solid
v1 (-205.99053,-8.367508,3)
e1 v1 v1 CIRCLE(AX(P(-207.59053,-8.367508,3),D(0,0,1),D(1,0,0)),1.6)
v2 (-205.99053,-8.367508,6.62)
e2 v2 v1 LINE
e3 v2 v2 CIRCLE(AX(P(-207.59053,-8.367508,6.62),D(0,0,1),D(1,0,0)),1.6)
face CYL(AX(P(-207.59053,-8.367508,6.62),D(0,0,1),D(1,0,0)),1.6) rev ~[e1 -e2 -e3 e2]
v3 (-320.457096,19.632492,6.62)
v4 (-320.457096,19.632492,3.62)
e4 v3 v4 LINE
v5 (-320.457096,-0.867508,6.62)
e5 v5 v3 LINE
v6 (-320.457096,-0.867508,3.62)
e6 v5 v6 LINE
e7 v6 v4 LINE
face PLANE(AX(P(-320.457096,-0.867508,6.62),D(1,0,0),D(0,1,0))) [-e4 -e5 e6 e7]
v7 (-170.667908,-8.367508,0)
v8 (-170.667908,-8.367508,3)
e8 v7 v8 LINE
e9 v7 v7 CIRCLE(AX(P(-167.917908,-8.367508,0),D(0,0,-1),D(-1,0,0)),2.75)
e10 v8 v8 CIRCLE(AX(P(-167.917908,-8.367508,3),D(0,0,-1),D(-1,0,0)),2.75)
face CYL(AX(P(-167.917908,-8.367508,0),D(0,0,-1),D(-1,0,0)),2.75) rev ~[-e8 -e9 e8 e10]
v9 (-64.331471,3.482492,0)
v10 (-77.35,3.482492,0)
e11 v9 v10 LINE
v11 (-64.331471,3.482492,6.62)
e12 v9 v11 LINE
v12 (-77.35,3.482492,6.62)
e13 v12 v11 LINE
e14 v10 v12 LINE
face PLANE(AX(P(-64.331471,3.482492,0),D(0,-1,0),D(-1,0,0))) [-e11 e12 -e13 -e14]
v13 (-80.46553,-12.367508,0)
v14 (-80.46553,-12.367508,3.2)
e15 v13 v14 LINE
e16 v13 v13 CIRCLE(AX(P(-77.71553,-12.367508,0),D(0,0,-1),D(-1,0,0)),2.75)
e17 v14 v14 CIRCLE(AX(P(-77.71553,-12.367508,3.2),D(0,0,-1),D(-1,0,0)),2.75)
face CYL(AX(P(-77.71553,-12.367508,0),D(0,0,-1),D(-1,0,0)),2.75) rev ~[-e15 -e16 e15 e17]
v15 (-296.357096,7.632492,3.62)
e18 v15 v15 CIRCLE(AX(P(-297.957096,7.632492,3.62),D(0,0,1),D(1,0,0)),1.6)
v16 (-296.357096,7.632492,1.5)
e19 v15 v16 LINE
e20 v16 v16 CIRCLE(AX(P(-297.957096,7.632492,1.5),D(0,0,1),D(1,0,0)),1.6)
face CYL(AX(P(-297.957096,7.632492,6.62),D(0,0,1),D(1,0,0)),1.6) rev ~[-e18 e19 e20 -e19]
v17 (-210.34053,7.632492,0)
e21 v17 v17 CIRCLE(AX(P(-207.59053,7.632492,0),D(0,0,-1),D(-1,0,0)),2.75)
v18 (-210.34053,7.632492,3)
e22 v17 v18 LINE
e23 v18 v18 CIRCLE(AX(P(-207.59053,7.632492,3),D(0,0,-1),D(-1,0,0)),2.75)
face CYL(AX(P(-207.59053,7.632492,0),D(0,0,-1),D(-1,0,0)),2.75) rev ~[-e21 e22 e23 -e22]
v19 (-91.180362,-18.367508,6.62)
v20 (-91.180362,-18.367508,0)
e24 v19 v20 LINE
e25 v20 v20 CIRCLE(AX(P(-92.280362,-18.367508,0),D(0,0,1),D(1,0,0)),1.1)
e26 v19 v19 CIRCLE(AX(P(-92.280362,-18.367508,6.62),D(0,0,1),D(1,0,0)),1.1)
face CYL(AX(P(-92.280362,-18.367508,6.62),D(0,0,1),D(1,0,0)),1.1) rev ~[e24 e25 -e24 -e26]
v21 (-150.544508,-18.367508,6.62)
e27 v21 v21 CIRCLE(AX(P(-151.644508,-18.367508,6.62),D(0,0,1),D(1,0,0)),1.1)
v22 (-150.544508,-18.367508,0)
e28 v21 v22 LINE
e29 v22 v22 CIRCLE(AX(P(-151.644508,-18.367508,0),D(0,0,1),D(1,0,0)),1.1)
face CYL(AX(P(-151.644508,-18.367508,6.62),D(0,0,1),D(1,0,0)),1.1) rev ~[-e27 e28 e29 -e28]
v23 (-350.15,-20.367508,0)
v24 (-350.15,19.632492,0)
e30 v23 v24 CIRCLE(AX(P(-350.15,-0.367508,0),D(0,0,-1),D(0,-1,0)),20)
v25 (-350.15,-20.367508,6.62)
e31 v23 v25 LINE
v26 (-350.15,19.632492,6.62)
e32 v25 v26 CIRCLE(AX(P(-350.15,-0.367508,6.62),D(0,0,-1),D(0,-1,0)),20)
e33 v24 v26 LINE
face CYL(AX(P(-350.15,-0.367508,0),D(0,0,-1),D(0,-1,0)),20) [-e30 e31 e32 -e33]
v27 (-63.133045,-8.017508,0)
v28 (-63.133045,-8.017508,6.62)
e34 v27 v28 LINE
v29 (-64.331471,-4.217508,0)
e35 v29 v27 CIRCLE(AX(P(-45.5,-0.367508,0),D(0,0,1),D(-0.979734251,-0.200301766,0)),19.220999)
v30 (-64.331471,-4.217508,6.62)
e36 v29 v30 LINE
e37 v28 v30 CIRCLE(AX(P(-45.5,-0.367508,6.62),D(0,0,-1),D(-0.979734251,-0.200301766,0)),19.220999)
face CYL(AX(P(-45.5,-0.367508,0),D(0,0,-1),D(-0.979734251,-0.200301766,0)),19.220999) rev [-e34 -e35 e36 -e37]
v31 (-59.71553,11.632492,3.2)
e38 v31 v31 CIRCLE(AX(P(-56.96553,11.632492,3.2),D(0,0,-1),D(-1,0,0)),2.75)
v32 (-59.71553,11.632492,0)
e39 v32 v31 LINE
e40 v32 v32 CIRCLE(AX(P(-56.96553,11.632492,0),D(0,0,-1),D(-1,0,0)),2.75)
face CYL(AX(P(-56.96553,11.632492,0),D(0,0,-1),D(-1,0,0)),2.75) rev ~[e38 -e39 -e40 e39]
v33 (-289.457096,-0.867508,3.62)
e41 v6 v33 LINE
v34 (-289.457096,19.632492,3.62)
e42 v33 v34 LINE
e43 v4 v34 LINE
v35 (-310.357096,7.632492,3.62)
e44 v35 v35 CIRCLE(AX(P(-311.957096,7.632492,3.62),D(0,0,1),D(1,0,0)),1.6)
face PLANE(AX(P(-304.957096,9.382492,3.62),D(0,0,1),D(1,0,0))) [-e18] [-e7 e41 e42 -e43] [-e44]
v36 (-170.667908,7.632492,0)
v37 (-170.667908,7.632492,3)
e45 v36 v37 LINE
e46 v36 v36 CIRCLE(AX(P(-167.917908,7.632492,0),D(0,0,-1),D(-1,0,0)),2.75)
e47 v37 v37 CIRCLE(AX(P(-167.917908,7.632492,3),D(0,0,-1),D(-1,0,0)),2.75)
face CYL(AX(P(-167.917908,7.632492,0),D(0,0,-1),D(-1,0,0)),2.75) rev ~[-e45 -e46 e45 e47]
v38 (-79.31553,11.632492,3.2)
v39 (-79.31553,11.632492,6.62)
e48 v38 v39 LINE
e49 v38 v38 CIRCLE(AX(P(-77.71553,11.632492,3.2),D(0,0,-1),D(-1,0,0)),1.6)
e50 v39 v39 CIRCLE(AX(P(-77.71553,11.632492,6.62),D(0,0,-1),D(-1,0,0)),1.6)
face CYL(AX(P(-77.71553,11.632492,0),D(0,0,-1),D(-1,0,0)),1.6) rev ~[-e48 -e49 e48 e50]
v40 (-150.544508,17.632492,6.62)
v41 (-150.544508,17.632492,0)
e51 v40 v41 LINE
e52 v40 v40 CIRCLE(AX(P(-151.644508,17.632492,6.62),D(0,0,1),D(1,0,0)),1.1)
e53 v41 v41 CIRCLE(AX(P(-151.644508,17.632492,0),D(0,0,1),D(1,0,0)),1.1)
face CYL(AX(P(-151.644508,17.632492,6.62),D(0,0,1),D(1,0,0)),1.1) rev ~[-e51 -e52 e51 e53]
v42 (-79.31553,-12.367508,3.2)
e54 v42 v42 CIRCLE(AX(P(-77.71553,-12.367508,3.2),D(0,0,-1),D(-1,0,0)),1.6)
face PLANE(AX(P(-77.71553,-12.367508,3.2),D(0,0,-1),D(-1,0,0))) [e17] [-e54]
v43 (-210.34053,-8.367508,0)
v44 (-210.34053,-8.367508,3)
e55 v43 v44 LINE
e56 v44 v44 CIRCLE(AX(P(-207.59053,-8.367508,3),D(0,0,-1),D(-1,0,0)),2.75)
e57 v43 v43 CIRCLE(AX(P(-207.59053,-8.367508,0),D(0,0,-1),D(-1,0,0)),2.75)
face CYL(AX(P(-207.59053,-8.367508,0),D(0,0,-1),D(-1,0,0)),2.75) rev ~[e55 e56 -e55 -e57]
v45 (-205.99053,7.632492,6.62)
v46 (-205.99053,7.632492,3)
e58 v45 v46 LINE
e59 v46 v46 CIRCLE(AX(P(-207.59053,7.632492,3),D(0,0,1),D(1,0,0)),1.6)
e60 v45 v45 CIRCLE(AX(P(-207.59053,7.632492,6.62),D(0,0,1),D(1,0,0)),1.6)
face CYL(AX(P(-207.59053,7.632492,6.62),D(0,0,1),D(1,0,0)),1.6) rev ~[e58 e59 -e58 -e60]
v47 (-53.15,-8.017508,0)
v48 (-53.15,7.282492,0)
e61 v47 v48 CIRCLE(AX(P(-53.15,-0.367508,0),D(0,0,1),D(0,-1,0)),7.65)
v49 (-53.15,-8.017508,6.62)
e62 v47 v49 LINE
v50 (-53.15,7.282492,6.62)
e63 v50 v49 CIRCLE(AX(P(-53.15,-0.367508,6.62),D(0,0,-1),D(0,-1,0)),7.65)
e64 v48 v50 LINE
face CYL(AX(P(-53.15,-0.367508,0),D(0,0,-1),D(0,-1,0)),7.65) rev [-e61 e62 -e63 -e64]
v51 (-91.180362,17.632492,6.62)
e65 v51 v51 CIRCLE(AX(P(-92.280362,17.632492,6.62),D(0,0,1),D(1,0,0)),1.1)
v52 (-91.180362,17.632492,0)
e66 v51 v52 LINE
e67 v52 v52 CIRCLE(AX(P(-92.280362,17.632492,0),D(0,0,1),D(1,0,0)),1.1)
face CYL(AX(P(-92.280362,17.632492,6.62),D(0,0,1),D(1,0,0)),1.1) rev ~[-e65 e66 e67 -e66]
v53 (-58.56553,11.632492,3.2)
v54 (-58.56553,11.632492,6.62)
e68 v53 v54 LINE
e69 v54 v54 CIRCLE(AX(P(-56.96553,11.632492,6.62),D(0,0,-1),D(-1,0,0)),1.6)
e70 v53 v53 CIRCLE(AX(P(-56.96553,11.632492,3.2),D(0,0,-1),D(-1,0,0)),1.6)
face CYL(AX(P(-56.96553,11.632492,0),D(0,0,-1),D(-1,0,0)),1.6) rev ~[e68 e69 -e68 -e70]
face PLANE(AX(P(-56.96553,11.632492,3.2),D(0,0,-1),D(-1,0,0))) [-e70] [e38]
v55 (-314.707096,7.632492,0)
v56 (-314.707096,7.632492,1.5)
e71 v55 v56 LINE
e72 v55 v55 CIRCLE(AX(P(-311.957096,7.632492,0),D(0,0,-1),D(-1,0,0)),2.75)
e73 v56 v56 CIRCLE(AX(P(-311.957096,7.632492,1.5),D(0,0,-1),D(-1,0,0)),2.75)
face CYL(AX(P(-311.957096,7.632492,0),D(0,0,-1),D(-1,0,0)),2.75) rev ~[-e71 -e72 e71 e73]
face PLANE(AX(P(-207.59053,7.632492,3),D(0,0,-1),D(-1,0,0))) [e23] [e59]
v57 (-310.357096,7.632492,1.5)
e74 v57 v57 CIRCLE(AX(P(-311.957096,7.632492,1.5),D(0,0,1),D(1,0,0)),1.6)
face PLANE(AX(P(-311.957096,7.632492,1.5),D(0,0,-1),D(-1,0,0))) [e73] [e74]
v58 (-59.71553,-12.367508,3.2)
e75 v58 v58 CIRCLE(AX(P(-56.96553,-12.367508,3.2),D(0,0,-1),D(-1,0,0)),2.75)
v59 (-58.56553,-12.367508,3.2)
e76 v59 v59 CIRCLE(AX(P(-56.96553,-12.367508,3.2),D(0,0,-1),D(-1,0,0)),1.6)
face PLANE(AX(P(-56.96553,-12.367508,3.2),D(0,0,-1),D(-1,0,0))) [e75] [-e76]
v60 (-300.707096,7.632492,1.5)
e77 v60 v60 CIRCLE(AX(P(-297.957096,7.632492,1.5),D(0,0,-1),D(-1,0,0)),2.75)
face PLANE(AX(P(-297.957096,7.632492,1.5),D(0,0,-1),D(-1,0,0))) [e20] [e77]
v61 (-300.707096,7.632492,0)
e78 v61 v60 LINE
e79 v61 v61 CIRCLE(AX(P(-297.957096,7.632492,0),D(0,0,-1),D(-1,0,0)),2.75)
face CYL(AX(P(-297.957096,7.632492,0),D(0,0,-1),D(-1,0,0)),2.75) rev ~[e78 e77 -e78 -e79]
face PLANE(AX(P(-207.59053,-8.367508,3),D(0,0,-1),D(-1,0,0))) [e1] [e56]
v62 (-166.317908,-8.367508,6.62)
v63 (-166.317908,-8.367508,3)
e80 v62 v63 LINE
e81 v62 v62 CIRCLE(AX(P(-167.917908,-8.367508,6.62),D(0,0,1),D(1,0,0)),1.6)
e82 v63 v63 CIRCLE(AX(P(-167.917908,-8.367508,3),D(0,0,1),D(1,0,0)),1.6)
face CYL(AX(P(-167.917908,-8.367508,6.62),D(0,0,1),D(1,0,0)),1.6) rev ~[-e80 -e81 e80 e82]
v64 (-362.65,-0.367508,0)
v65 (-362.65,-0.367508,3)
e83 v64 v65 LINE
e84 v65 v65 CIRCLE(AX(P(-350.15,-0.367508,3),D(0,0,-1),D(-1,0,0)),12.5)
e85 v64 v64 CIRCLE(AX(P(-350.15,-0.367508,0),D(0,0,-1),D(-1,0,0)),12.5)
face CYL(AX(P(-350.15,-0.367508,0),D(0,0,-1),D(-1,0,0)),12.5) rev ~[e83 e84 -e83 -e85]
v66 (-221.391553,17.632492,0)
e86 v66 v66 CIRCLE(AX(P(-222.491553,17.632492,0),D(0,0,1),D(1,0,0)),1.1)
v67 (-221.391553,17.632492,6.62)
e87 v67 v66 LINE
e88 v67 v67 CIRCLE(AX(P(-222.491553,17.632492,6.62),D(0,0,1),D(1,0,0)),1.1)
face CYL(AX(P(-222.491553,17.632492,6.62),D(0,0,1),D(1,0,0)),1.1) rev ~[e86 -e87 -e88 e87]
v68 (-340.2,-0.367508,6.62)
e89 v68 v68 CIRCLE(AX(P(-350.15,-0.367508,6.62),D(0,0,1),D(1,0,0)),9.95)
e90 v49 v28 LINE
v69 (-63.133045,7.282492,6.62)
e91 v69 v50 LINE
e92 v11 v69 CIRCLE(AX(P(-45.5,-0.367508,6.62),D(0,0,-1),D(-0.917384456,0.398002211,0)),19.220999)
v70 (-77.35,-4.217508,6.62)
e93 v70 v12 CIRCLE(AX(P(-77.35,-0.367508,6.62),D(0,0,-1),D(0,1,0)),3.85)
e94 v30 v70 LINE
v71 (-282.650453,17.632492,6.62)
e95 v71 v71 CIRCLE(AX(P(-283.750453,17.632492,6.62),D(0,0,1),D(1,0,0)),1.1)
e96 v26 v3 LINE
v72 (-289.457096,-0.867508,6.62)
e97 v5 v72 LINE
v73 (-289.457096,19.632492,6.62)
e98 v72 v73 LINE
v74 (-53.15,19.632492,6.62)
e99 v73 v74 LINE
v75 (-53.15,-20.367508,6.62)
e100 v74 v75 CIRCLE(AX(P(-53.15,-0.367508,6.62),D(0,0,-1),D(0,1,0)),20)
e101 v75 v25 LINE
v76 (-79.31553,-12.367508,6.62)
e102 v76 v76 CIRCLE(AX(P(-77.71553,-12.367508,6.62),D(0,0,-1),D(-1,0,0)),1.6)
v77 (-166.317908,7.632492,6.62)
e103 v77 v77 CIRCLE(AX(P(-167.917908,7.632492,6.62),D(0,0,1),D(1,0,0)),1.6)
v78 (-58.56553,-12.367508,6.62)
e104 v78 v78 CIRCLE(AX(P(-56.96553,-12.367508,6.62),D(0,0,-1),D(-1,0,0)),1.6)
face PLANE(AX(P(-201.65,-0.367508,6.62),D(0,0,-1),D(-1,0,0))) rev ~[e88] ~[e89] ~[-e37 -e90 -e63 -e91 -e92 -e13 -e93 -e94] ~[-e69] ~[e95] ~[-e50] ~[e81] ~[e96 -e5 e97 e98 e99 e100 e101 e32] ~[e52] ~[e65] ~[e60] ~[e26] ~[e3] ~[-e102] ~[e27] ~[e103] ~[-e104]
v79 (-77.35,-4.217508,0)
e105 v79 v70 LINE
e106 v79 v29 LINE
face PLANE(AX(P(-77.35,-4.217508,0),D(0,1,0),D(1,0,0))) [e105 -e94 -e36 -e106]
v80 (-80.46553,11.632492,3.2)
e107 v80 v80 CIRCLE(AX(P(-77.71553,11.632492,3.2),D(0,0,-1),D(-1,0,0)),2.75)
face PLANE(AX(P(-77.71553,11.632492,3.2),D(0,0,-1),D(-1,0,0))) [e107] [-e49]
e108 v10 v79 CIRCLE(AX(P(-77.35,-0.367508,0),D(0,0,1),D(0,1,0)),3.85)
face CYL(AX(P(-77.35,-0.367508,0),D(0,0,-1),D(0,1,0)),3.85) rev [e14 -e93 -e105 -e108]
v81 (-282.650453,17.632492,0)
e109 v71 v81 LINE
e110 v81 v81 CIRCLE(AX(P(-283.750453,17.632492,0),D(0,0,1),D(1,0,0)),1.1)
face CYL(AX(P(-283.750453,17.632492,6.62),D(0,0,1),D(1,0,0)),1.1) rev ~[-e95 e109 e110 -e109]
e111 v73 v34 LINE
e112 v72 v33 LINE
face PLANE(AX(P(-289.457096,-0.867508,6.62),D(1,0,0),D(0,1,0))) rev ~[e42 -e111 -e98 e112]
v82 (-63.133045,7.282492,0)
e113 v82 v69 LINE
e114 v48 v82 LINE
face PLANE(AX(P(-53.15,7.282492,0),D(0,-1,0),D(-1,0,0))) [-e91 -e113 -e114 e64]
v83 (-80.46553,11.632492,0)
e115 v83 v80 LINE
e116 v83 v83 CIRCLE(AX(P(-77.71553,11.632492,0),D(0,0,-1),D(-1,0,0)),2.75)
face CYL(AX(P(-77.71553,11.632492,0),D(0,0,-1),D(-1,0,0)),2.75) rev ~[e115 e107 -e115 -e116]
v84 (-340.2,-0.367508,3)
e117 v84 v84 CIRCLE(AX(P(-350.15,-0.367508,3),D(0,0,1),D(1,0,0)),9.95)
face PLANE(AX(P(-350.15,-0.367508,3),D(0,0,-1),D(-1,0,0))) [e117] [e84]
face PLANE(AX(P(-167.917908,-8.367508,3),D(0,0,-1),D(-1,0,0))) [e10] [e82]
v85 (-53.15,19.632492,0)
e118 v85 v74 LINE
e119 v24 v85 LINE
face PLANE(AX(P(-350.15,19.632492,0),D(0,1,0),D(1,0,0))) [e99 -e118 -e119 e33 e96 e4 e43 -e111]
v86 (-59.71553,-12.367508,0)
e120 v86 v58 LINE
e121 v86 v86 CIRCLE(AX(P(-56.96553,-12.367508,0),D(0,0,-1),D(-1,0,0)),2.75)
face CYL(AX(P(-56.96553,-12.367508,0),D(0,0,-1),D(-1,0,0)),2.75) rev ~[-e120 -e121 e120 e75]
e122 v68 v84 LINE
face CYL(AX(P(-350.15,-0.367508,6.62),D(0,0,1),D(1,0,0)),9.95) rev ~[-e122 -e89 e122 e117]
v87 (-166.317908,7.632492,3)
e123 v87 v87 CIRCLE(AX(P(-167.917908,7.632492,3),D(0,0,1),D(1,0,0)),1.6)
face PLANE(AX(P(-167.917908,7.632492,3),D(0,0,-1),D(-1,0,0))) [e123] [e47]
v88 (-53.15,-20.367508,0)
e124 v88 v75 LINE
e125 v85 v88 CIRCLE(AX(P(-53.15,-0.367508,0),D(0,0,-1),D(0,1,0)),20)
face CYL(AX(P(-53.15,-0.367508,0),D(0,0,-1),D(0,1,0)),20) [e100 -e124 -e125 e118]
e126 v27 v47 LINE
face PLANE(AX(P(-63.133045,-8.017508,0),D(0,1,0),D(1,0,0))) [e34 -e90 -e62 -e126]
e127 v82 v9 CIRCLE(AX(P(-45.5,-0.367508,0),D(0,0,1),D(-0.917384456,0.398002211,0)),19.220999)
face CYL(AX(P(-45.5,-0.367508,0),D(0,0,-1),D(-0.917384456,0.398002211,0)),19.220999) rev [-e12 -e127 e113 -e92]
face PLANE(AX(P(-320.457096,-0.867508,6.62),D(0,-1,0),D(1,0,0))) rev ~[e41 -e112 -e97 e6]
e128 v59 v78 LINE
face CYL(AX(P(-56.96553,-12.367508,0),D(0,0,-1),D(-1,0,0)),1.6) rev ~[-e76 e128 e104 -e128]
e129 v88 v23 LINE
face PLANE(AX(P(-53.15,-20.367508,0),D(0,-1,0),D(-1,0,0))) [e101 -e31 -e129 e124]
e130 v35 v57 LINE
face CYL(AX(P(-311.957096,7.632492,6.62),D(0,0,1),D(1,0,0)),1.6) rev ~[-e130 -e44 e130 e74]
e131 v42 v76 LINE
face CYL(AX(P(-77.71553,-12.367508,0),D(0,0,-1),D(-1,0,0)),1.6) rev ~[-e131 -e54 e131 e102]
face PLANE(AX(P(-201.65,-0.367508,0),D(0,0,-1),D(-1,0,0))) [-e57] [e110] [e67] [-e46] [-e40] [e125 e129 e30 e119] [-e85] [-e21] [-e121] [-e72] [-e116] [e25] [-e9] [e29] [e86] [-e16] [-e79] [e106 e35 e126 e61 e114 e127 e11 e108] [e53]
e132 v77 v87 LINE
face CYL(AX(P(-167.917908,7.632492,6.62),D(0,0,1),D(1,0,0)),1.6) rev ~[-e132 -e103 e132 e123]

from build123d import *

# Parameters (mm, degrees)
BOSS_EXTRUDE1_DEPTH = 6.62
CUT_EXTRUDE1_REACH  = 8.62
CUT_EXTRUDE2_REACH  = 8.62
SKETCH3_R           = 1.6
SKETCH4_R           = 2.75
CUT_EXTRUDE3_DEPTH  = 3.2
SKETCH6_R           = 9.95
CUT_EXTRUDE4_DEPTH  = 10
SKETCH7_R           = 12.5
CUT_EXTRUDE5_DEPTH  = 3
CUT_EXTRUDE9_REACH  = 8.62
SKETCH10_R          = 1.600000003
SKETCH11_R          = 2.750000001
CUT_EXTRUDE10_DEPTH = 3
SKETCH12_W          = 31
SKETCH12_H          = 20.5
CUT_EXTRUDE11_DEPTH = 3
CUT_EXTRUDE12_REACH = 8.62
SKETCH13_R          = 1.6
SKETCH14_R          = 2.75
CUT_EXTRUDE13_DEPTH = 1.5
CUT_EXTRUDE14_REACH = 8.62
SKETCH15_R          = 1.1


with BuildPart() as part:
    # Sketch1 → Boss-Extrude1 (new body)
    with BuildSketch(Plane.XY):
        with BuildLine():
            Line((-53.15, -20.367507575), (-350.15, -20.367507575))
            ThreePointArc((-350.15, -20.367507575), (-370.15, -0.367507575), (-350.15, 19.632492425))
            Line((-350.15, 19.632492425), (-53.15, 19.632492425))
            ThreePointArc((-53.15, 19.632492425), (-33.15, -0.367507575), (-53.15, -20.367507575))
        make_face()
    extrude(amount=BOSS_EXTRUDE1_DEPTH)

    # Sketch2 → Cut-Extrude1 (cut, up to next)
    with BuildSketch(Plane(origin=(0, 0, 0), x_dir=(-1, 0, 0), z_dir=(0, 0, -1)), mode=Mode.PRIVATE) as cut_extrude1_sk1:
        with BuildLine():
            Line((53.15, 7.282492425), (63.133045479, 7.282492425))
            ThreePointArc((63.133045479, 7.282492425), (63.830991164, 5.41363036), (64.33147081, 3.482492425))
            Line((64.33147081, 3.482492425), (77.35, 3.482492425))
            ThreePointArc((77.35, 3.482492425), (81.2, -0.367507575), (77.35, -4.217507575))
            Line((77.35, -4.217507575), (64.33147081, -4.217507575))
            ThreePointArc((64.33147081, -4.217507575), (63.830991164, -6.14864551), (63.133045479, -8.017507575))
            Line((63.133045479, -8.017507575), (53.15, -8.017507575))
            ThreePointArc((53.15, -8.017507575), (45.5, -0.367507575), (53.15, 7.282492425))
        make_face()
    cut_extrude1_tool1 = extrude(cut_extrude1_sk1.sketch, amount=-CUT_EXTRUDE1_REACH, mode=Mode.PRIVATE) & part.part
    add(cut_extrude1_tool1.solids().sort_by_distance((-60.965388, -0.367508, 0))[0], mode=Mode.SUBTRACT)

    # Sketch3 → Cut-Extrude2 (cut, up to next)
    with BuildSketch(Plane(origin=(0, 0, 0), x_dir=(-1, 0, 0), z_dir=(0, 0, -1)), mode=Mode.PRIVATE) as cut_extrude2_sk1:
        with Locations((77.715530374, -12.367507575)):
            Circle(SKETCH3_R)
    cut_extrude2_tool1 = extrude(cut_extrude2_sk1.sketch, amount=-CUT_EXTRUDE2_REACH, mode=Mode.PRIVATE) & part.part
    add(cut_extrude2_tool1.solids().sort_by_distance((-77.71553, -12.367508, 0))[0], mode=Mode.SUBTRACT)
    # Sketch3 → Cut-Extrude2 (cut, up to next)
    with BuildSketch(Plane(origin=(0, 0, 0), x_dir=(-1, 0, 0), z_dir=(0, 0, -1)), mode=Mode.PRIVATE) as cut_extrude2_sk2:
        with Locations((77.715530374, 11.632492425)):
            Circle(SKETCH3_R)
    cut_extrude2_tool2 = extrude(cut_extrude2_sk2.sketch, amount=-CUT_EXTRUDE2_REACH, mode=Mode.PRIVATE) & part.part
    add(cut_extrude2_tool2.solids().sort_by_distance((-77.71553, 11.632492, 0))[0], mode=Mode.SUBTRACT)
    # Sketch3 → Cut-Extrude2 (cut, up to next)
    with BuildSketch(Plane(origin=(0, 0, 0), x_dir=(-1, 0, 0), z_dir=(0, 0, -1)), mode=Mode.PRIVATE) as cut_extrude2_sk3:
        with Locations((56.965530374, 11.632492425)):
            Circle(SKETCH3_R)
    cut_extrude2_tool3 = extrude(cut_extrude2_sk3.sketch, amount=-CUT_EXTRUDE2_REACH, mode=Mode.PRIVATE) & part.part
    add(cut_extrude2_tool3.solids().sort_by_distance((-56.96553, 11.632492, 0))[0], mode=Mode.SUBTRACT)
    # Sketch3 → Cut-Extrude2 (cut, up to next)
    with BuildSketch(Plane(origin=(0, 0, 0), x_dir=(-1, 0, 0), z_dir=(0, 0, -1)), mode=Mode.PRIVATE) as cut_extrude2_sk4:
        with Locations((56.965530374, -12.367507575)):
            Circle(SKETCH3_R)
    cut_extrude2_tool4 = extrude(cut_extrude2_sk4.sketch, amount=-CUT_EXTRUDE2_REACH, mode=Mode.PRIVATE) & part.part
    add(cut_extrude2_tool4.solids().sort_by_distance((-56.96553, -12.367508, 0))[0], mode=Mode.SUBTRACT)

    # Sketch4 → Cut-Extrude3 (cut)
    with BuildSketch(Plane(origin=(0, 0, 0), x_dir=(-1, 0, 0), z_dir=(0, 0, -1))):
        with Locations((56.965530374, 11.632492425)):
            Circle(SKETCH4_R)
        with Locations((77.715530374, 11.632492425)):
            Circle(SKETCH4_R)
        with Locations((77.715530374, -12.367507575)):
            Circle(SKETCH4_R)
        with Locations((56.965530374, -12.367507575)):
            Circle(SKETCH4_R)
    extrude(amount=-CUT_EXTRUDE3_DEPTH, mode=Mode.SUBTRACT)

    # Sketch6 → Cut-Extrude4 (cut)
    with BuildSketch(Plane.XY.offset(6.62)):
        with Locations((-350.15, -0.367507575)):
            Circle(SKETCH6_R)
    extrude(amount=-CUT_EXTRUDE4_DEPTH, mode=Mode.SUBTRACT)

    # Sketch7 → Cut-Extrude5 (cut)
    with BuildSketch(Plane(origin=(0, 0, 0), x_dir=(-1, 0, 0), z_dir=(0, 0, -1))):
        with Locations((350.15, -0.367507575)):
            Circle(SKETCH7_R)
    extrude(amount=-CUT_EXTRUDE5_DEPTH, mode=Mode.SUBTRACT)

    # Sketch10 → Cut-Extrude9 (cut, up to next)
    with BuildSketch(Plane.XY.offset(6.62), mode=Mode.PRIVATE) as cut_extrude9_sk1:
        with Locations((-207.590530375, -8.367507581)):
            Circle(SKETCH10_R)
    cut_extrude9_tool1 = extrude(cut_extrude9_sk1.sketch, amount=-CUT_EXTRUDE9_REACH, mode=Mode.PRIVATE) & part.part
    add(cut_extrude9_tool1.solids().sort_by_distance((-207.59053, -8.367508, 6.62))[0], mode=Mode.SUBTRACT)
    # Sketch10 → Cut-Extrude9 (cut, up to next)
    with BuildSketch(Plane.XY.offset(6.62), mode=Mode.PRIVATE) as cut_extrude9_sk2:
        with Locations((-207.590530375, 7.632492419)):
            Circle(SKETCH10_R)
    cut_extrude9_tool2 = extrude(cut_extrude9_sk2.sketch, amount=-CUT_EXTRUDE9_REACH, mode=Mode.PRIVATE) & part.part
    add(cut_extrude9_tool2.solids().sort_by_distance((-207.59053, 7.632492, 6.62))[0], mode=Mode.SUBTRACT)
    # Sketch10 → Cut-Extrude9 (cut, up to next)
    with BuildSketch(Plane.XY.offset(6.62), mode=Mode.PRIVATE) as cut_extrude9_sk3:
        with Locations((-167.917908126, -8.367507581)):
            Circle(SKETCH10_R)
    cut_extrude9_tool3 = extrude(cut_extrude9_sk3.sketch, amount=-CUT_EXTRUDE9_REACH, mode=Mode.PRIVATE) & part.part
    add(cut_extrude9_tool3.solids().sort_by_distance((-167.917908, -8.367508, 6.62))[0], mode=Mode.SUBTRACT)
    # Sketch10 → Cut-Extrude9 (cut, up to next)
    with BuildSketch(Plane.XY.offset(6.62), mode=Mode.PRIVATE) as cut_extrude9_sk4:
        with Locations((-167.917908126, 7.632492419)):
            Circle(SKETCH10_R)
    cut_extrude9_tool4 = extrude(cut_extrude9_sk4.sketch, amount=-CUT_EXTRUDE9_REACH, mode=Mode.PRIVATE) & part.part
    add(cut_extrude9_tool4.solids().sort_by_distance((-167.917908, 7.632492, 6.62))[0], mode=Mode.SUBTRACT)

    # Sketch11 → Cut-Extrude10 (cut)
    with BuildSketch(Plane(origin=(0, 0, 0), x_dir=(-1, 0, 0), z_dir=(0, 0, -1))):
        with Locations((207.590530375, 7.632492419)):
            Circle(SKETCH11_R)
        with Locations((207.590530375, -8.367507581)):
            Circle(SKETCH11_R)
        with Locations((167.917908126, 7.632492419)):
            Circle(SKETCH11_R)
        with Locations((167.917908126, -8.367507581)):
            Circle(SKETCH11_R)
    extrude(amount=-CUT_EXTRUDE10_DEPTH, mode=Mode.SUBTRACT)

    # Sketch12 → Cut-Extrude11 (cut)
    with BuildSketch(Plane.XY.offset(6.62)):
        with Locations((-304.957095584, 9.382492425)):
            Rectangle(SKETCH12_W, SKETCH12_H)
    extrude(amount=-CUT_EXTRUDE11_DEPTH, mode=Mode.SUBTRACT)

    # Sketch13 → Cut-Extrude12 (cut, up to next)
    with BuildSketch(Plane.XY.offset(6.62), mode=Mode.PRIVATE) as cut_extrude12_sk1:
        with Locations((-311.957095584, 7.632492425)):
            Circle(SKETCH13_R)
    cut_extrude12_tool1 = extrude(cut_extrude12_sk1.sketch, amount=-CUT_EXTRUDE12_REACH, mode=Mode.PRIVATE) & part.part
    add(cut_extrude12_tool1.solids().sort_by_distance((-311.957096, 7.632492, 6.62))[0], mode=Mode.SUBTRACT)
    # Sketch13 → Cut-Extrude12 (cut, up to next)
    with BuildSketch(Plane.XY.offset(6.62), mode=Mode.PRIVATE) as cut_extrude12_sk2:
        with Locations((-297.957095584, 7.632492425)):
            Circle(SKETCH13_R)
    cut_extrude12_tool2 = extrude(cut_extrude12_sk2.sketch, amount=-CUT_EXTRUDE12_REACH, mode=Mode.PRIVATE) & part.part
    add(cut_extrude12_tool2.solids().sort_by_distance((-297.957096, 7.632492, 6.62))[0], mode=Mode.SUBTRACT)

    # Sketch14 → Cut-Extrude13 (cut)
    with BuildSketch(Plane(origin=(0, 0, 0), x_dir=(-1, 0, 0), z_dir=(0, 0, -1))):
        with Locations((311.957095584, 7.632492425)):
            Circle(SKETCH14_R)
        with Locations((297.957095584, 7.632492425)):
            Circle(SKETCH14_R)
    extrude(amount=-CUT_EXTRUDE13_DEPTH, mode=Mode.SUBTRACT)

    # Sketch15 → Cut-Extrude14 (cut, up to next)
    with BuildSketch(Plane.XY.offset(6.62), mode=Mode.PRIVATE) as cut_extrude14_sk1:
        with Locations((-151.644507933, -18.367507575)):
            Circle(SKETCH15_R)
    cut_extrude14_tool1 = extrude(cut_extrude14_sk1.sketch, amount=-CUT_EXTRUDE14_REACH, mode=Mode.PRIVATE) & part.part
    add(cut_extrude14_tool1.solids().sort_by_distance((-151.644508, -18.367508, 6.62))[0], mode=Mode.SUBTRACT)
    # Sketch15 → Cut-Extrude14 (cut, up to next)
    with BuildSketch(Plane.XY.offset(6.62), mode=Mode.PRIVATE) as cut_extrude14_sk2:
        with Locations((-92.280362099, -18.367507575)):
            Circle(SKETCH15_R)
    cut_extrude14_tool2 = extrude(cut_extrude14_sk2.sketch, amount=-CUT_EXTRUDE14_REACH, mode=Mode.PRIVATE) & part.part
    add(cut_extrude14_tool2.solids().sort_by_distance((-92.280362, -18.367508, 6.62))[0], mode=Mode.SUBTRACT)
    # Sketch15 → Cut-Extrude14 (cut, up to next)
    with BuildSketch(Plane.XY.offset(6.62), mode=Mode.PRIVATE) as cut_extrude14_sk3:
        with Locations((-151.644507933, 17.632492425)):
            Circle(SKETCH15_R)
    cut_extrude14_tool3 = extrude(cut_extrude14_sk3.sketch, amount=-CUT_EXTRUDE14_REACH, mode=Mode.PRIVATE) & part.part
    add(cut_extrude14_tool3.solids().sort_by_distance((-151.644508, 17.632492, 6.62))[0], mode=Mode.SUBTRACT)
    # Sketch15 → Cut-Extrude14 (cut, up to next)
    with BuildSketch(Plane.XY.offset(6.62), mode=Mode.PRIVATE) as cut_extrude14_sk4:
        with Locations((-92.280362099, 17.632492425)):
            Circle(SKETCH15_R)
    cut_extrude14_tool4 = extrude(cut_extrude14_sk4.sketch, amount=-CUT_EXTRUDE14_REACH, mode=Mode.PRIVATE) & part.part
    add(cut_extrude14_tool4.solids().sort_by_distance((-92.280362, 17.632492, 6.62))[0], mode=Mode.SUBTRACT)
    # Sketch15 → Cut-Extrude14 (cut, up to next)
    with BuildSketch(Plane.XY.offset(6.62), mode=Mode.PRIVATE) as cut_extrude14_sk5:
        with Locations((-222.491552839, 17.632492425)):
            Circle(SKETCH15_R)
    cut_extrude14_tool5 = extrude(cut_extrude14_sk5.sketch, amount=-CUT_EXTRUDE14_REACH, mode=Mode.PRIVATE) & part.part
    add(cut_extrude14_tool5.solids().sort_by_distance((-222.491553, 17.632492, 6.62))[0], mode=Mode.SUBTRACT)
    # Sketch15 → Cut-Extrude14 (cut, up to next)
    with BuildSketch(Plane.XY.offset(6.62), mode=Mode.PRIVATE) as cut_extrude14_sk6:
        with Locations((-283.750452743, 17.632492425)):
            Circle(SKETCH15_R)
    cut_extrude14_tool6 = extrude(cut_extrude14_sk6.sketch, amount=-CUT_EXTRUDE14_REACH, mode=Mode.PRIVATE) & part.part
    add(cut_extrude14_tool6.solids().sort_by_distance((-283.750453, 17.632492, 6.62))[0], mode=Mode.SUBTRACT)


solid = part.part
